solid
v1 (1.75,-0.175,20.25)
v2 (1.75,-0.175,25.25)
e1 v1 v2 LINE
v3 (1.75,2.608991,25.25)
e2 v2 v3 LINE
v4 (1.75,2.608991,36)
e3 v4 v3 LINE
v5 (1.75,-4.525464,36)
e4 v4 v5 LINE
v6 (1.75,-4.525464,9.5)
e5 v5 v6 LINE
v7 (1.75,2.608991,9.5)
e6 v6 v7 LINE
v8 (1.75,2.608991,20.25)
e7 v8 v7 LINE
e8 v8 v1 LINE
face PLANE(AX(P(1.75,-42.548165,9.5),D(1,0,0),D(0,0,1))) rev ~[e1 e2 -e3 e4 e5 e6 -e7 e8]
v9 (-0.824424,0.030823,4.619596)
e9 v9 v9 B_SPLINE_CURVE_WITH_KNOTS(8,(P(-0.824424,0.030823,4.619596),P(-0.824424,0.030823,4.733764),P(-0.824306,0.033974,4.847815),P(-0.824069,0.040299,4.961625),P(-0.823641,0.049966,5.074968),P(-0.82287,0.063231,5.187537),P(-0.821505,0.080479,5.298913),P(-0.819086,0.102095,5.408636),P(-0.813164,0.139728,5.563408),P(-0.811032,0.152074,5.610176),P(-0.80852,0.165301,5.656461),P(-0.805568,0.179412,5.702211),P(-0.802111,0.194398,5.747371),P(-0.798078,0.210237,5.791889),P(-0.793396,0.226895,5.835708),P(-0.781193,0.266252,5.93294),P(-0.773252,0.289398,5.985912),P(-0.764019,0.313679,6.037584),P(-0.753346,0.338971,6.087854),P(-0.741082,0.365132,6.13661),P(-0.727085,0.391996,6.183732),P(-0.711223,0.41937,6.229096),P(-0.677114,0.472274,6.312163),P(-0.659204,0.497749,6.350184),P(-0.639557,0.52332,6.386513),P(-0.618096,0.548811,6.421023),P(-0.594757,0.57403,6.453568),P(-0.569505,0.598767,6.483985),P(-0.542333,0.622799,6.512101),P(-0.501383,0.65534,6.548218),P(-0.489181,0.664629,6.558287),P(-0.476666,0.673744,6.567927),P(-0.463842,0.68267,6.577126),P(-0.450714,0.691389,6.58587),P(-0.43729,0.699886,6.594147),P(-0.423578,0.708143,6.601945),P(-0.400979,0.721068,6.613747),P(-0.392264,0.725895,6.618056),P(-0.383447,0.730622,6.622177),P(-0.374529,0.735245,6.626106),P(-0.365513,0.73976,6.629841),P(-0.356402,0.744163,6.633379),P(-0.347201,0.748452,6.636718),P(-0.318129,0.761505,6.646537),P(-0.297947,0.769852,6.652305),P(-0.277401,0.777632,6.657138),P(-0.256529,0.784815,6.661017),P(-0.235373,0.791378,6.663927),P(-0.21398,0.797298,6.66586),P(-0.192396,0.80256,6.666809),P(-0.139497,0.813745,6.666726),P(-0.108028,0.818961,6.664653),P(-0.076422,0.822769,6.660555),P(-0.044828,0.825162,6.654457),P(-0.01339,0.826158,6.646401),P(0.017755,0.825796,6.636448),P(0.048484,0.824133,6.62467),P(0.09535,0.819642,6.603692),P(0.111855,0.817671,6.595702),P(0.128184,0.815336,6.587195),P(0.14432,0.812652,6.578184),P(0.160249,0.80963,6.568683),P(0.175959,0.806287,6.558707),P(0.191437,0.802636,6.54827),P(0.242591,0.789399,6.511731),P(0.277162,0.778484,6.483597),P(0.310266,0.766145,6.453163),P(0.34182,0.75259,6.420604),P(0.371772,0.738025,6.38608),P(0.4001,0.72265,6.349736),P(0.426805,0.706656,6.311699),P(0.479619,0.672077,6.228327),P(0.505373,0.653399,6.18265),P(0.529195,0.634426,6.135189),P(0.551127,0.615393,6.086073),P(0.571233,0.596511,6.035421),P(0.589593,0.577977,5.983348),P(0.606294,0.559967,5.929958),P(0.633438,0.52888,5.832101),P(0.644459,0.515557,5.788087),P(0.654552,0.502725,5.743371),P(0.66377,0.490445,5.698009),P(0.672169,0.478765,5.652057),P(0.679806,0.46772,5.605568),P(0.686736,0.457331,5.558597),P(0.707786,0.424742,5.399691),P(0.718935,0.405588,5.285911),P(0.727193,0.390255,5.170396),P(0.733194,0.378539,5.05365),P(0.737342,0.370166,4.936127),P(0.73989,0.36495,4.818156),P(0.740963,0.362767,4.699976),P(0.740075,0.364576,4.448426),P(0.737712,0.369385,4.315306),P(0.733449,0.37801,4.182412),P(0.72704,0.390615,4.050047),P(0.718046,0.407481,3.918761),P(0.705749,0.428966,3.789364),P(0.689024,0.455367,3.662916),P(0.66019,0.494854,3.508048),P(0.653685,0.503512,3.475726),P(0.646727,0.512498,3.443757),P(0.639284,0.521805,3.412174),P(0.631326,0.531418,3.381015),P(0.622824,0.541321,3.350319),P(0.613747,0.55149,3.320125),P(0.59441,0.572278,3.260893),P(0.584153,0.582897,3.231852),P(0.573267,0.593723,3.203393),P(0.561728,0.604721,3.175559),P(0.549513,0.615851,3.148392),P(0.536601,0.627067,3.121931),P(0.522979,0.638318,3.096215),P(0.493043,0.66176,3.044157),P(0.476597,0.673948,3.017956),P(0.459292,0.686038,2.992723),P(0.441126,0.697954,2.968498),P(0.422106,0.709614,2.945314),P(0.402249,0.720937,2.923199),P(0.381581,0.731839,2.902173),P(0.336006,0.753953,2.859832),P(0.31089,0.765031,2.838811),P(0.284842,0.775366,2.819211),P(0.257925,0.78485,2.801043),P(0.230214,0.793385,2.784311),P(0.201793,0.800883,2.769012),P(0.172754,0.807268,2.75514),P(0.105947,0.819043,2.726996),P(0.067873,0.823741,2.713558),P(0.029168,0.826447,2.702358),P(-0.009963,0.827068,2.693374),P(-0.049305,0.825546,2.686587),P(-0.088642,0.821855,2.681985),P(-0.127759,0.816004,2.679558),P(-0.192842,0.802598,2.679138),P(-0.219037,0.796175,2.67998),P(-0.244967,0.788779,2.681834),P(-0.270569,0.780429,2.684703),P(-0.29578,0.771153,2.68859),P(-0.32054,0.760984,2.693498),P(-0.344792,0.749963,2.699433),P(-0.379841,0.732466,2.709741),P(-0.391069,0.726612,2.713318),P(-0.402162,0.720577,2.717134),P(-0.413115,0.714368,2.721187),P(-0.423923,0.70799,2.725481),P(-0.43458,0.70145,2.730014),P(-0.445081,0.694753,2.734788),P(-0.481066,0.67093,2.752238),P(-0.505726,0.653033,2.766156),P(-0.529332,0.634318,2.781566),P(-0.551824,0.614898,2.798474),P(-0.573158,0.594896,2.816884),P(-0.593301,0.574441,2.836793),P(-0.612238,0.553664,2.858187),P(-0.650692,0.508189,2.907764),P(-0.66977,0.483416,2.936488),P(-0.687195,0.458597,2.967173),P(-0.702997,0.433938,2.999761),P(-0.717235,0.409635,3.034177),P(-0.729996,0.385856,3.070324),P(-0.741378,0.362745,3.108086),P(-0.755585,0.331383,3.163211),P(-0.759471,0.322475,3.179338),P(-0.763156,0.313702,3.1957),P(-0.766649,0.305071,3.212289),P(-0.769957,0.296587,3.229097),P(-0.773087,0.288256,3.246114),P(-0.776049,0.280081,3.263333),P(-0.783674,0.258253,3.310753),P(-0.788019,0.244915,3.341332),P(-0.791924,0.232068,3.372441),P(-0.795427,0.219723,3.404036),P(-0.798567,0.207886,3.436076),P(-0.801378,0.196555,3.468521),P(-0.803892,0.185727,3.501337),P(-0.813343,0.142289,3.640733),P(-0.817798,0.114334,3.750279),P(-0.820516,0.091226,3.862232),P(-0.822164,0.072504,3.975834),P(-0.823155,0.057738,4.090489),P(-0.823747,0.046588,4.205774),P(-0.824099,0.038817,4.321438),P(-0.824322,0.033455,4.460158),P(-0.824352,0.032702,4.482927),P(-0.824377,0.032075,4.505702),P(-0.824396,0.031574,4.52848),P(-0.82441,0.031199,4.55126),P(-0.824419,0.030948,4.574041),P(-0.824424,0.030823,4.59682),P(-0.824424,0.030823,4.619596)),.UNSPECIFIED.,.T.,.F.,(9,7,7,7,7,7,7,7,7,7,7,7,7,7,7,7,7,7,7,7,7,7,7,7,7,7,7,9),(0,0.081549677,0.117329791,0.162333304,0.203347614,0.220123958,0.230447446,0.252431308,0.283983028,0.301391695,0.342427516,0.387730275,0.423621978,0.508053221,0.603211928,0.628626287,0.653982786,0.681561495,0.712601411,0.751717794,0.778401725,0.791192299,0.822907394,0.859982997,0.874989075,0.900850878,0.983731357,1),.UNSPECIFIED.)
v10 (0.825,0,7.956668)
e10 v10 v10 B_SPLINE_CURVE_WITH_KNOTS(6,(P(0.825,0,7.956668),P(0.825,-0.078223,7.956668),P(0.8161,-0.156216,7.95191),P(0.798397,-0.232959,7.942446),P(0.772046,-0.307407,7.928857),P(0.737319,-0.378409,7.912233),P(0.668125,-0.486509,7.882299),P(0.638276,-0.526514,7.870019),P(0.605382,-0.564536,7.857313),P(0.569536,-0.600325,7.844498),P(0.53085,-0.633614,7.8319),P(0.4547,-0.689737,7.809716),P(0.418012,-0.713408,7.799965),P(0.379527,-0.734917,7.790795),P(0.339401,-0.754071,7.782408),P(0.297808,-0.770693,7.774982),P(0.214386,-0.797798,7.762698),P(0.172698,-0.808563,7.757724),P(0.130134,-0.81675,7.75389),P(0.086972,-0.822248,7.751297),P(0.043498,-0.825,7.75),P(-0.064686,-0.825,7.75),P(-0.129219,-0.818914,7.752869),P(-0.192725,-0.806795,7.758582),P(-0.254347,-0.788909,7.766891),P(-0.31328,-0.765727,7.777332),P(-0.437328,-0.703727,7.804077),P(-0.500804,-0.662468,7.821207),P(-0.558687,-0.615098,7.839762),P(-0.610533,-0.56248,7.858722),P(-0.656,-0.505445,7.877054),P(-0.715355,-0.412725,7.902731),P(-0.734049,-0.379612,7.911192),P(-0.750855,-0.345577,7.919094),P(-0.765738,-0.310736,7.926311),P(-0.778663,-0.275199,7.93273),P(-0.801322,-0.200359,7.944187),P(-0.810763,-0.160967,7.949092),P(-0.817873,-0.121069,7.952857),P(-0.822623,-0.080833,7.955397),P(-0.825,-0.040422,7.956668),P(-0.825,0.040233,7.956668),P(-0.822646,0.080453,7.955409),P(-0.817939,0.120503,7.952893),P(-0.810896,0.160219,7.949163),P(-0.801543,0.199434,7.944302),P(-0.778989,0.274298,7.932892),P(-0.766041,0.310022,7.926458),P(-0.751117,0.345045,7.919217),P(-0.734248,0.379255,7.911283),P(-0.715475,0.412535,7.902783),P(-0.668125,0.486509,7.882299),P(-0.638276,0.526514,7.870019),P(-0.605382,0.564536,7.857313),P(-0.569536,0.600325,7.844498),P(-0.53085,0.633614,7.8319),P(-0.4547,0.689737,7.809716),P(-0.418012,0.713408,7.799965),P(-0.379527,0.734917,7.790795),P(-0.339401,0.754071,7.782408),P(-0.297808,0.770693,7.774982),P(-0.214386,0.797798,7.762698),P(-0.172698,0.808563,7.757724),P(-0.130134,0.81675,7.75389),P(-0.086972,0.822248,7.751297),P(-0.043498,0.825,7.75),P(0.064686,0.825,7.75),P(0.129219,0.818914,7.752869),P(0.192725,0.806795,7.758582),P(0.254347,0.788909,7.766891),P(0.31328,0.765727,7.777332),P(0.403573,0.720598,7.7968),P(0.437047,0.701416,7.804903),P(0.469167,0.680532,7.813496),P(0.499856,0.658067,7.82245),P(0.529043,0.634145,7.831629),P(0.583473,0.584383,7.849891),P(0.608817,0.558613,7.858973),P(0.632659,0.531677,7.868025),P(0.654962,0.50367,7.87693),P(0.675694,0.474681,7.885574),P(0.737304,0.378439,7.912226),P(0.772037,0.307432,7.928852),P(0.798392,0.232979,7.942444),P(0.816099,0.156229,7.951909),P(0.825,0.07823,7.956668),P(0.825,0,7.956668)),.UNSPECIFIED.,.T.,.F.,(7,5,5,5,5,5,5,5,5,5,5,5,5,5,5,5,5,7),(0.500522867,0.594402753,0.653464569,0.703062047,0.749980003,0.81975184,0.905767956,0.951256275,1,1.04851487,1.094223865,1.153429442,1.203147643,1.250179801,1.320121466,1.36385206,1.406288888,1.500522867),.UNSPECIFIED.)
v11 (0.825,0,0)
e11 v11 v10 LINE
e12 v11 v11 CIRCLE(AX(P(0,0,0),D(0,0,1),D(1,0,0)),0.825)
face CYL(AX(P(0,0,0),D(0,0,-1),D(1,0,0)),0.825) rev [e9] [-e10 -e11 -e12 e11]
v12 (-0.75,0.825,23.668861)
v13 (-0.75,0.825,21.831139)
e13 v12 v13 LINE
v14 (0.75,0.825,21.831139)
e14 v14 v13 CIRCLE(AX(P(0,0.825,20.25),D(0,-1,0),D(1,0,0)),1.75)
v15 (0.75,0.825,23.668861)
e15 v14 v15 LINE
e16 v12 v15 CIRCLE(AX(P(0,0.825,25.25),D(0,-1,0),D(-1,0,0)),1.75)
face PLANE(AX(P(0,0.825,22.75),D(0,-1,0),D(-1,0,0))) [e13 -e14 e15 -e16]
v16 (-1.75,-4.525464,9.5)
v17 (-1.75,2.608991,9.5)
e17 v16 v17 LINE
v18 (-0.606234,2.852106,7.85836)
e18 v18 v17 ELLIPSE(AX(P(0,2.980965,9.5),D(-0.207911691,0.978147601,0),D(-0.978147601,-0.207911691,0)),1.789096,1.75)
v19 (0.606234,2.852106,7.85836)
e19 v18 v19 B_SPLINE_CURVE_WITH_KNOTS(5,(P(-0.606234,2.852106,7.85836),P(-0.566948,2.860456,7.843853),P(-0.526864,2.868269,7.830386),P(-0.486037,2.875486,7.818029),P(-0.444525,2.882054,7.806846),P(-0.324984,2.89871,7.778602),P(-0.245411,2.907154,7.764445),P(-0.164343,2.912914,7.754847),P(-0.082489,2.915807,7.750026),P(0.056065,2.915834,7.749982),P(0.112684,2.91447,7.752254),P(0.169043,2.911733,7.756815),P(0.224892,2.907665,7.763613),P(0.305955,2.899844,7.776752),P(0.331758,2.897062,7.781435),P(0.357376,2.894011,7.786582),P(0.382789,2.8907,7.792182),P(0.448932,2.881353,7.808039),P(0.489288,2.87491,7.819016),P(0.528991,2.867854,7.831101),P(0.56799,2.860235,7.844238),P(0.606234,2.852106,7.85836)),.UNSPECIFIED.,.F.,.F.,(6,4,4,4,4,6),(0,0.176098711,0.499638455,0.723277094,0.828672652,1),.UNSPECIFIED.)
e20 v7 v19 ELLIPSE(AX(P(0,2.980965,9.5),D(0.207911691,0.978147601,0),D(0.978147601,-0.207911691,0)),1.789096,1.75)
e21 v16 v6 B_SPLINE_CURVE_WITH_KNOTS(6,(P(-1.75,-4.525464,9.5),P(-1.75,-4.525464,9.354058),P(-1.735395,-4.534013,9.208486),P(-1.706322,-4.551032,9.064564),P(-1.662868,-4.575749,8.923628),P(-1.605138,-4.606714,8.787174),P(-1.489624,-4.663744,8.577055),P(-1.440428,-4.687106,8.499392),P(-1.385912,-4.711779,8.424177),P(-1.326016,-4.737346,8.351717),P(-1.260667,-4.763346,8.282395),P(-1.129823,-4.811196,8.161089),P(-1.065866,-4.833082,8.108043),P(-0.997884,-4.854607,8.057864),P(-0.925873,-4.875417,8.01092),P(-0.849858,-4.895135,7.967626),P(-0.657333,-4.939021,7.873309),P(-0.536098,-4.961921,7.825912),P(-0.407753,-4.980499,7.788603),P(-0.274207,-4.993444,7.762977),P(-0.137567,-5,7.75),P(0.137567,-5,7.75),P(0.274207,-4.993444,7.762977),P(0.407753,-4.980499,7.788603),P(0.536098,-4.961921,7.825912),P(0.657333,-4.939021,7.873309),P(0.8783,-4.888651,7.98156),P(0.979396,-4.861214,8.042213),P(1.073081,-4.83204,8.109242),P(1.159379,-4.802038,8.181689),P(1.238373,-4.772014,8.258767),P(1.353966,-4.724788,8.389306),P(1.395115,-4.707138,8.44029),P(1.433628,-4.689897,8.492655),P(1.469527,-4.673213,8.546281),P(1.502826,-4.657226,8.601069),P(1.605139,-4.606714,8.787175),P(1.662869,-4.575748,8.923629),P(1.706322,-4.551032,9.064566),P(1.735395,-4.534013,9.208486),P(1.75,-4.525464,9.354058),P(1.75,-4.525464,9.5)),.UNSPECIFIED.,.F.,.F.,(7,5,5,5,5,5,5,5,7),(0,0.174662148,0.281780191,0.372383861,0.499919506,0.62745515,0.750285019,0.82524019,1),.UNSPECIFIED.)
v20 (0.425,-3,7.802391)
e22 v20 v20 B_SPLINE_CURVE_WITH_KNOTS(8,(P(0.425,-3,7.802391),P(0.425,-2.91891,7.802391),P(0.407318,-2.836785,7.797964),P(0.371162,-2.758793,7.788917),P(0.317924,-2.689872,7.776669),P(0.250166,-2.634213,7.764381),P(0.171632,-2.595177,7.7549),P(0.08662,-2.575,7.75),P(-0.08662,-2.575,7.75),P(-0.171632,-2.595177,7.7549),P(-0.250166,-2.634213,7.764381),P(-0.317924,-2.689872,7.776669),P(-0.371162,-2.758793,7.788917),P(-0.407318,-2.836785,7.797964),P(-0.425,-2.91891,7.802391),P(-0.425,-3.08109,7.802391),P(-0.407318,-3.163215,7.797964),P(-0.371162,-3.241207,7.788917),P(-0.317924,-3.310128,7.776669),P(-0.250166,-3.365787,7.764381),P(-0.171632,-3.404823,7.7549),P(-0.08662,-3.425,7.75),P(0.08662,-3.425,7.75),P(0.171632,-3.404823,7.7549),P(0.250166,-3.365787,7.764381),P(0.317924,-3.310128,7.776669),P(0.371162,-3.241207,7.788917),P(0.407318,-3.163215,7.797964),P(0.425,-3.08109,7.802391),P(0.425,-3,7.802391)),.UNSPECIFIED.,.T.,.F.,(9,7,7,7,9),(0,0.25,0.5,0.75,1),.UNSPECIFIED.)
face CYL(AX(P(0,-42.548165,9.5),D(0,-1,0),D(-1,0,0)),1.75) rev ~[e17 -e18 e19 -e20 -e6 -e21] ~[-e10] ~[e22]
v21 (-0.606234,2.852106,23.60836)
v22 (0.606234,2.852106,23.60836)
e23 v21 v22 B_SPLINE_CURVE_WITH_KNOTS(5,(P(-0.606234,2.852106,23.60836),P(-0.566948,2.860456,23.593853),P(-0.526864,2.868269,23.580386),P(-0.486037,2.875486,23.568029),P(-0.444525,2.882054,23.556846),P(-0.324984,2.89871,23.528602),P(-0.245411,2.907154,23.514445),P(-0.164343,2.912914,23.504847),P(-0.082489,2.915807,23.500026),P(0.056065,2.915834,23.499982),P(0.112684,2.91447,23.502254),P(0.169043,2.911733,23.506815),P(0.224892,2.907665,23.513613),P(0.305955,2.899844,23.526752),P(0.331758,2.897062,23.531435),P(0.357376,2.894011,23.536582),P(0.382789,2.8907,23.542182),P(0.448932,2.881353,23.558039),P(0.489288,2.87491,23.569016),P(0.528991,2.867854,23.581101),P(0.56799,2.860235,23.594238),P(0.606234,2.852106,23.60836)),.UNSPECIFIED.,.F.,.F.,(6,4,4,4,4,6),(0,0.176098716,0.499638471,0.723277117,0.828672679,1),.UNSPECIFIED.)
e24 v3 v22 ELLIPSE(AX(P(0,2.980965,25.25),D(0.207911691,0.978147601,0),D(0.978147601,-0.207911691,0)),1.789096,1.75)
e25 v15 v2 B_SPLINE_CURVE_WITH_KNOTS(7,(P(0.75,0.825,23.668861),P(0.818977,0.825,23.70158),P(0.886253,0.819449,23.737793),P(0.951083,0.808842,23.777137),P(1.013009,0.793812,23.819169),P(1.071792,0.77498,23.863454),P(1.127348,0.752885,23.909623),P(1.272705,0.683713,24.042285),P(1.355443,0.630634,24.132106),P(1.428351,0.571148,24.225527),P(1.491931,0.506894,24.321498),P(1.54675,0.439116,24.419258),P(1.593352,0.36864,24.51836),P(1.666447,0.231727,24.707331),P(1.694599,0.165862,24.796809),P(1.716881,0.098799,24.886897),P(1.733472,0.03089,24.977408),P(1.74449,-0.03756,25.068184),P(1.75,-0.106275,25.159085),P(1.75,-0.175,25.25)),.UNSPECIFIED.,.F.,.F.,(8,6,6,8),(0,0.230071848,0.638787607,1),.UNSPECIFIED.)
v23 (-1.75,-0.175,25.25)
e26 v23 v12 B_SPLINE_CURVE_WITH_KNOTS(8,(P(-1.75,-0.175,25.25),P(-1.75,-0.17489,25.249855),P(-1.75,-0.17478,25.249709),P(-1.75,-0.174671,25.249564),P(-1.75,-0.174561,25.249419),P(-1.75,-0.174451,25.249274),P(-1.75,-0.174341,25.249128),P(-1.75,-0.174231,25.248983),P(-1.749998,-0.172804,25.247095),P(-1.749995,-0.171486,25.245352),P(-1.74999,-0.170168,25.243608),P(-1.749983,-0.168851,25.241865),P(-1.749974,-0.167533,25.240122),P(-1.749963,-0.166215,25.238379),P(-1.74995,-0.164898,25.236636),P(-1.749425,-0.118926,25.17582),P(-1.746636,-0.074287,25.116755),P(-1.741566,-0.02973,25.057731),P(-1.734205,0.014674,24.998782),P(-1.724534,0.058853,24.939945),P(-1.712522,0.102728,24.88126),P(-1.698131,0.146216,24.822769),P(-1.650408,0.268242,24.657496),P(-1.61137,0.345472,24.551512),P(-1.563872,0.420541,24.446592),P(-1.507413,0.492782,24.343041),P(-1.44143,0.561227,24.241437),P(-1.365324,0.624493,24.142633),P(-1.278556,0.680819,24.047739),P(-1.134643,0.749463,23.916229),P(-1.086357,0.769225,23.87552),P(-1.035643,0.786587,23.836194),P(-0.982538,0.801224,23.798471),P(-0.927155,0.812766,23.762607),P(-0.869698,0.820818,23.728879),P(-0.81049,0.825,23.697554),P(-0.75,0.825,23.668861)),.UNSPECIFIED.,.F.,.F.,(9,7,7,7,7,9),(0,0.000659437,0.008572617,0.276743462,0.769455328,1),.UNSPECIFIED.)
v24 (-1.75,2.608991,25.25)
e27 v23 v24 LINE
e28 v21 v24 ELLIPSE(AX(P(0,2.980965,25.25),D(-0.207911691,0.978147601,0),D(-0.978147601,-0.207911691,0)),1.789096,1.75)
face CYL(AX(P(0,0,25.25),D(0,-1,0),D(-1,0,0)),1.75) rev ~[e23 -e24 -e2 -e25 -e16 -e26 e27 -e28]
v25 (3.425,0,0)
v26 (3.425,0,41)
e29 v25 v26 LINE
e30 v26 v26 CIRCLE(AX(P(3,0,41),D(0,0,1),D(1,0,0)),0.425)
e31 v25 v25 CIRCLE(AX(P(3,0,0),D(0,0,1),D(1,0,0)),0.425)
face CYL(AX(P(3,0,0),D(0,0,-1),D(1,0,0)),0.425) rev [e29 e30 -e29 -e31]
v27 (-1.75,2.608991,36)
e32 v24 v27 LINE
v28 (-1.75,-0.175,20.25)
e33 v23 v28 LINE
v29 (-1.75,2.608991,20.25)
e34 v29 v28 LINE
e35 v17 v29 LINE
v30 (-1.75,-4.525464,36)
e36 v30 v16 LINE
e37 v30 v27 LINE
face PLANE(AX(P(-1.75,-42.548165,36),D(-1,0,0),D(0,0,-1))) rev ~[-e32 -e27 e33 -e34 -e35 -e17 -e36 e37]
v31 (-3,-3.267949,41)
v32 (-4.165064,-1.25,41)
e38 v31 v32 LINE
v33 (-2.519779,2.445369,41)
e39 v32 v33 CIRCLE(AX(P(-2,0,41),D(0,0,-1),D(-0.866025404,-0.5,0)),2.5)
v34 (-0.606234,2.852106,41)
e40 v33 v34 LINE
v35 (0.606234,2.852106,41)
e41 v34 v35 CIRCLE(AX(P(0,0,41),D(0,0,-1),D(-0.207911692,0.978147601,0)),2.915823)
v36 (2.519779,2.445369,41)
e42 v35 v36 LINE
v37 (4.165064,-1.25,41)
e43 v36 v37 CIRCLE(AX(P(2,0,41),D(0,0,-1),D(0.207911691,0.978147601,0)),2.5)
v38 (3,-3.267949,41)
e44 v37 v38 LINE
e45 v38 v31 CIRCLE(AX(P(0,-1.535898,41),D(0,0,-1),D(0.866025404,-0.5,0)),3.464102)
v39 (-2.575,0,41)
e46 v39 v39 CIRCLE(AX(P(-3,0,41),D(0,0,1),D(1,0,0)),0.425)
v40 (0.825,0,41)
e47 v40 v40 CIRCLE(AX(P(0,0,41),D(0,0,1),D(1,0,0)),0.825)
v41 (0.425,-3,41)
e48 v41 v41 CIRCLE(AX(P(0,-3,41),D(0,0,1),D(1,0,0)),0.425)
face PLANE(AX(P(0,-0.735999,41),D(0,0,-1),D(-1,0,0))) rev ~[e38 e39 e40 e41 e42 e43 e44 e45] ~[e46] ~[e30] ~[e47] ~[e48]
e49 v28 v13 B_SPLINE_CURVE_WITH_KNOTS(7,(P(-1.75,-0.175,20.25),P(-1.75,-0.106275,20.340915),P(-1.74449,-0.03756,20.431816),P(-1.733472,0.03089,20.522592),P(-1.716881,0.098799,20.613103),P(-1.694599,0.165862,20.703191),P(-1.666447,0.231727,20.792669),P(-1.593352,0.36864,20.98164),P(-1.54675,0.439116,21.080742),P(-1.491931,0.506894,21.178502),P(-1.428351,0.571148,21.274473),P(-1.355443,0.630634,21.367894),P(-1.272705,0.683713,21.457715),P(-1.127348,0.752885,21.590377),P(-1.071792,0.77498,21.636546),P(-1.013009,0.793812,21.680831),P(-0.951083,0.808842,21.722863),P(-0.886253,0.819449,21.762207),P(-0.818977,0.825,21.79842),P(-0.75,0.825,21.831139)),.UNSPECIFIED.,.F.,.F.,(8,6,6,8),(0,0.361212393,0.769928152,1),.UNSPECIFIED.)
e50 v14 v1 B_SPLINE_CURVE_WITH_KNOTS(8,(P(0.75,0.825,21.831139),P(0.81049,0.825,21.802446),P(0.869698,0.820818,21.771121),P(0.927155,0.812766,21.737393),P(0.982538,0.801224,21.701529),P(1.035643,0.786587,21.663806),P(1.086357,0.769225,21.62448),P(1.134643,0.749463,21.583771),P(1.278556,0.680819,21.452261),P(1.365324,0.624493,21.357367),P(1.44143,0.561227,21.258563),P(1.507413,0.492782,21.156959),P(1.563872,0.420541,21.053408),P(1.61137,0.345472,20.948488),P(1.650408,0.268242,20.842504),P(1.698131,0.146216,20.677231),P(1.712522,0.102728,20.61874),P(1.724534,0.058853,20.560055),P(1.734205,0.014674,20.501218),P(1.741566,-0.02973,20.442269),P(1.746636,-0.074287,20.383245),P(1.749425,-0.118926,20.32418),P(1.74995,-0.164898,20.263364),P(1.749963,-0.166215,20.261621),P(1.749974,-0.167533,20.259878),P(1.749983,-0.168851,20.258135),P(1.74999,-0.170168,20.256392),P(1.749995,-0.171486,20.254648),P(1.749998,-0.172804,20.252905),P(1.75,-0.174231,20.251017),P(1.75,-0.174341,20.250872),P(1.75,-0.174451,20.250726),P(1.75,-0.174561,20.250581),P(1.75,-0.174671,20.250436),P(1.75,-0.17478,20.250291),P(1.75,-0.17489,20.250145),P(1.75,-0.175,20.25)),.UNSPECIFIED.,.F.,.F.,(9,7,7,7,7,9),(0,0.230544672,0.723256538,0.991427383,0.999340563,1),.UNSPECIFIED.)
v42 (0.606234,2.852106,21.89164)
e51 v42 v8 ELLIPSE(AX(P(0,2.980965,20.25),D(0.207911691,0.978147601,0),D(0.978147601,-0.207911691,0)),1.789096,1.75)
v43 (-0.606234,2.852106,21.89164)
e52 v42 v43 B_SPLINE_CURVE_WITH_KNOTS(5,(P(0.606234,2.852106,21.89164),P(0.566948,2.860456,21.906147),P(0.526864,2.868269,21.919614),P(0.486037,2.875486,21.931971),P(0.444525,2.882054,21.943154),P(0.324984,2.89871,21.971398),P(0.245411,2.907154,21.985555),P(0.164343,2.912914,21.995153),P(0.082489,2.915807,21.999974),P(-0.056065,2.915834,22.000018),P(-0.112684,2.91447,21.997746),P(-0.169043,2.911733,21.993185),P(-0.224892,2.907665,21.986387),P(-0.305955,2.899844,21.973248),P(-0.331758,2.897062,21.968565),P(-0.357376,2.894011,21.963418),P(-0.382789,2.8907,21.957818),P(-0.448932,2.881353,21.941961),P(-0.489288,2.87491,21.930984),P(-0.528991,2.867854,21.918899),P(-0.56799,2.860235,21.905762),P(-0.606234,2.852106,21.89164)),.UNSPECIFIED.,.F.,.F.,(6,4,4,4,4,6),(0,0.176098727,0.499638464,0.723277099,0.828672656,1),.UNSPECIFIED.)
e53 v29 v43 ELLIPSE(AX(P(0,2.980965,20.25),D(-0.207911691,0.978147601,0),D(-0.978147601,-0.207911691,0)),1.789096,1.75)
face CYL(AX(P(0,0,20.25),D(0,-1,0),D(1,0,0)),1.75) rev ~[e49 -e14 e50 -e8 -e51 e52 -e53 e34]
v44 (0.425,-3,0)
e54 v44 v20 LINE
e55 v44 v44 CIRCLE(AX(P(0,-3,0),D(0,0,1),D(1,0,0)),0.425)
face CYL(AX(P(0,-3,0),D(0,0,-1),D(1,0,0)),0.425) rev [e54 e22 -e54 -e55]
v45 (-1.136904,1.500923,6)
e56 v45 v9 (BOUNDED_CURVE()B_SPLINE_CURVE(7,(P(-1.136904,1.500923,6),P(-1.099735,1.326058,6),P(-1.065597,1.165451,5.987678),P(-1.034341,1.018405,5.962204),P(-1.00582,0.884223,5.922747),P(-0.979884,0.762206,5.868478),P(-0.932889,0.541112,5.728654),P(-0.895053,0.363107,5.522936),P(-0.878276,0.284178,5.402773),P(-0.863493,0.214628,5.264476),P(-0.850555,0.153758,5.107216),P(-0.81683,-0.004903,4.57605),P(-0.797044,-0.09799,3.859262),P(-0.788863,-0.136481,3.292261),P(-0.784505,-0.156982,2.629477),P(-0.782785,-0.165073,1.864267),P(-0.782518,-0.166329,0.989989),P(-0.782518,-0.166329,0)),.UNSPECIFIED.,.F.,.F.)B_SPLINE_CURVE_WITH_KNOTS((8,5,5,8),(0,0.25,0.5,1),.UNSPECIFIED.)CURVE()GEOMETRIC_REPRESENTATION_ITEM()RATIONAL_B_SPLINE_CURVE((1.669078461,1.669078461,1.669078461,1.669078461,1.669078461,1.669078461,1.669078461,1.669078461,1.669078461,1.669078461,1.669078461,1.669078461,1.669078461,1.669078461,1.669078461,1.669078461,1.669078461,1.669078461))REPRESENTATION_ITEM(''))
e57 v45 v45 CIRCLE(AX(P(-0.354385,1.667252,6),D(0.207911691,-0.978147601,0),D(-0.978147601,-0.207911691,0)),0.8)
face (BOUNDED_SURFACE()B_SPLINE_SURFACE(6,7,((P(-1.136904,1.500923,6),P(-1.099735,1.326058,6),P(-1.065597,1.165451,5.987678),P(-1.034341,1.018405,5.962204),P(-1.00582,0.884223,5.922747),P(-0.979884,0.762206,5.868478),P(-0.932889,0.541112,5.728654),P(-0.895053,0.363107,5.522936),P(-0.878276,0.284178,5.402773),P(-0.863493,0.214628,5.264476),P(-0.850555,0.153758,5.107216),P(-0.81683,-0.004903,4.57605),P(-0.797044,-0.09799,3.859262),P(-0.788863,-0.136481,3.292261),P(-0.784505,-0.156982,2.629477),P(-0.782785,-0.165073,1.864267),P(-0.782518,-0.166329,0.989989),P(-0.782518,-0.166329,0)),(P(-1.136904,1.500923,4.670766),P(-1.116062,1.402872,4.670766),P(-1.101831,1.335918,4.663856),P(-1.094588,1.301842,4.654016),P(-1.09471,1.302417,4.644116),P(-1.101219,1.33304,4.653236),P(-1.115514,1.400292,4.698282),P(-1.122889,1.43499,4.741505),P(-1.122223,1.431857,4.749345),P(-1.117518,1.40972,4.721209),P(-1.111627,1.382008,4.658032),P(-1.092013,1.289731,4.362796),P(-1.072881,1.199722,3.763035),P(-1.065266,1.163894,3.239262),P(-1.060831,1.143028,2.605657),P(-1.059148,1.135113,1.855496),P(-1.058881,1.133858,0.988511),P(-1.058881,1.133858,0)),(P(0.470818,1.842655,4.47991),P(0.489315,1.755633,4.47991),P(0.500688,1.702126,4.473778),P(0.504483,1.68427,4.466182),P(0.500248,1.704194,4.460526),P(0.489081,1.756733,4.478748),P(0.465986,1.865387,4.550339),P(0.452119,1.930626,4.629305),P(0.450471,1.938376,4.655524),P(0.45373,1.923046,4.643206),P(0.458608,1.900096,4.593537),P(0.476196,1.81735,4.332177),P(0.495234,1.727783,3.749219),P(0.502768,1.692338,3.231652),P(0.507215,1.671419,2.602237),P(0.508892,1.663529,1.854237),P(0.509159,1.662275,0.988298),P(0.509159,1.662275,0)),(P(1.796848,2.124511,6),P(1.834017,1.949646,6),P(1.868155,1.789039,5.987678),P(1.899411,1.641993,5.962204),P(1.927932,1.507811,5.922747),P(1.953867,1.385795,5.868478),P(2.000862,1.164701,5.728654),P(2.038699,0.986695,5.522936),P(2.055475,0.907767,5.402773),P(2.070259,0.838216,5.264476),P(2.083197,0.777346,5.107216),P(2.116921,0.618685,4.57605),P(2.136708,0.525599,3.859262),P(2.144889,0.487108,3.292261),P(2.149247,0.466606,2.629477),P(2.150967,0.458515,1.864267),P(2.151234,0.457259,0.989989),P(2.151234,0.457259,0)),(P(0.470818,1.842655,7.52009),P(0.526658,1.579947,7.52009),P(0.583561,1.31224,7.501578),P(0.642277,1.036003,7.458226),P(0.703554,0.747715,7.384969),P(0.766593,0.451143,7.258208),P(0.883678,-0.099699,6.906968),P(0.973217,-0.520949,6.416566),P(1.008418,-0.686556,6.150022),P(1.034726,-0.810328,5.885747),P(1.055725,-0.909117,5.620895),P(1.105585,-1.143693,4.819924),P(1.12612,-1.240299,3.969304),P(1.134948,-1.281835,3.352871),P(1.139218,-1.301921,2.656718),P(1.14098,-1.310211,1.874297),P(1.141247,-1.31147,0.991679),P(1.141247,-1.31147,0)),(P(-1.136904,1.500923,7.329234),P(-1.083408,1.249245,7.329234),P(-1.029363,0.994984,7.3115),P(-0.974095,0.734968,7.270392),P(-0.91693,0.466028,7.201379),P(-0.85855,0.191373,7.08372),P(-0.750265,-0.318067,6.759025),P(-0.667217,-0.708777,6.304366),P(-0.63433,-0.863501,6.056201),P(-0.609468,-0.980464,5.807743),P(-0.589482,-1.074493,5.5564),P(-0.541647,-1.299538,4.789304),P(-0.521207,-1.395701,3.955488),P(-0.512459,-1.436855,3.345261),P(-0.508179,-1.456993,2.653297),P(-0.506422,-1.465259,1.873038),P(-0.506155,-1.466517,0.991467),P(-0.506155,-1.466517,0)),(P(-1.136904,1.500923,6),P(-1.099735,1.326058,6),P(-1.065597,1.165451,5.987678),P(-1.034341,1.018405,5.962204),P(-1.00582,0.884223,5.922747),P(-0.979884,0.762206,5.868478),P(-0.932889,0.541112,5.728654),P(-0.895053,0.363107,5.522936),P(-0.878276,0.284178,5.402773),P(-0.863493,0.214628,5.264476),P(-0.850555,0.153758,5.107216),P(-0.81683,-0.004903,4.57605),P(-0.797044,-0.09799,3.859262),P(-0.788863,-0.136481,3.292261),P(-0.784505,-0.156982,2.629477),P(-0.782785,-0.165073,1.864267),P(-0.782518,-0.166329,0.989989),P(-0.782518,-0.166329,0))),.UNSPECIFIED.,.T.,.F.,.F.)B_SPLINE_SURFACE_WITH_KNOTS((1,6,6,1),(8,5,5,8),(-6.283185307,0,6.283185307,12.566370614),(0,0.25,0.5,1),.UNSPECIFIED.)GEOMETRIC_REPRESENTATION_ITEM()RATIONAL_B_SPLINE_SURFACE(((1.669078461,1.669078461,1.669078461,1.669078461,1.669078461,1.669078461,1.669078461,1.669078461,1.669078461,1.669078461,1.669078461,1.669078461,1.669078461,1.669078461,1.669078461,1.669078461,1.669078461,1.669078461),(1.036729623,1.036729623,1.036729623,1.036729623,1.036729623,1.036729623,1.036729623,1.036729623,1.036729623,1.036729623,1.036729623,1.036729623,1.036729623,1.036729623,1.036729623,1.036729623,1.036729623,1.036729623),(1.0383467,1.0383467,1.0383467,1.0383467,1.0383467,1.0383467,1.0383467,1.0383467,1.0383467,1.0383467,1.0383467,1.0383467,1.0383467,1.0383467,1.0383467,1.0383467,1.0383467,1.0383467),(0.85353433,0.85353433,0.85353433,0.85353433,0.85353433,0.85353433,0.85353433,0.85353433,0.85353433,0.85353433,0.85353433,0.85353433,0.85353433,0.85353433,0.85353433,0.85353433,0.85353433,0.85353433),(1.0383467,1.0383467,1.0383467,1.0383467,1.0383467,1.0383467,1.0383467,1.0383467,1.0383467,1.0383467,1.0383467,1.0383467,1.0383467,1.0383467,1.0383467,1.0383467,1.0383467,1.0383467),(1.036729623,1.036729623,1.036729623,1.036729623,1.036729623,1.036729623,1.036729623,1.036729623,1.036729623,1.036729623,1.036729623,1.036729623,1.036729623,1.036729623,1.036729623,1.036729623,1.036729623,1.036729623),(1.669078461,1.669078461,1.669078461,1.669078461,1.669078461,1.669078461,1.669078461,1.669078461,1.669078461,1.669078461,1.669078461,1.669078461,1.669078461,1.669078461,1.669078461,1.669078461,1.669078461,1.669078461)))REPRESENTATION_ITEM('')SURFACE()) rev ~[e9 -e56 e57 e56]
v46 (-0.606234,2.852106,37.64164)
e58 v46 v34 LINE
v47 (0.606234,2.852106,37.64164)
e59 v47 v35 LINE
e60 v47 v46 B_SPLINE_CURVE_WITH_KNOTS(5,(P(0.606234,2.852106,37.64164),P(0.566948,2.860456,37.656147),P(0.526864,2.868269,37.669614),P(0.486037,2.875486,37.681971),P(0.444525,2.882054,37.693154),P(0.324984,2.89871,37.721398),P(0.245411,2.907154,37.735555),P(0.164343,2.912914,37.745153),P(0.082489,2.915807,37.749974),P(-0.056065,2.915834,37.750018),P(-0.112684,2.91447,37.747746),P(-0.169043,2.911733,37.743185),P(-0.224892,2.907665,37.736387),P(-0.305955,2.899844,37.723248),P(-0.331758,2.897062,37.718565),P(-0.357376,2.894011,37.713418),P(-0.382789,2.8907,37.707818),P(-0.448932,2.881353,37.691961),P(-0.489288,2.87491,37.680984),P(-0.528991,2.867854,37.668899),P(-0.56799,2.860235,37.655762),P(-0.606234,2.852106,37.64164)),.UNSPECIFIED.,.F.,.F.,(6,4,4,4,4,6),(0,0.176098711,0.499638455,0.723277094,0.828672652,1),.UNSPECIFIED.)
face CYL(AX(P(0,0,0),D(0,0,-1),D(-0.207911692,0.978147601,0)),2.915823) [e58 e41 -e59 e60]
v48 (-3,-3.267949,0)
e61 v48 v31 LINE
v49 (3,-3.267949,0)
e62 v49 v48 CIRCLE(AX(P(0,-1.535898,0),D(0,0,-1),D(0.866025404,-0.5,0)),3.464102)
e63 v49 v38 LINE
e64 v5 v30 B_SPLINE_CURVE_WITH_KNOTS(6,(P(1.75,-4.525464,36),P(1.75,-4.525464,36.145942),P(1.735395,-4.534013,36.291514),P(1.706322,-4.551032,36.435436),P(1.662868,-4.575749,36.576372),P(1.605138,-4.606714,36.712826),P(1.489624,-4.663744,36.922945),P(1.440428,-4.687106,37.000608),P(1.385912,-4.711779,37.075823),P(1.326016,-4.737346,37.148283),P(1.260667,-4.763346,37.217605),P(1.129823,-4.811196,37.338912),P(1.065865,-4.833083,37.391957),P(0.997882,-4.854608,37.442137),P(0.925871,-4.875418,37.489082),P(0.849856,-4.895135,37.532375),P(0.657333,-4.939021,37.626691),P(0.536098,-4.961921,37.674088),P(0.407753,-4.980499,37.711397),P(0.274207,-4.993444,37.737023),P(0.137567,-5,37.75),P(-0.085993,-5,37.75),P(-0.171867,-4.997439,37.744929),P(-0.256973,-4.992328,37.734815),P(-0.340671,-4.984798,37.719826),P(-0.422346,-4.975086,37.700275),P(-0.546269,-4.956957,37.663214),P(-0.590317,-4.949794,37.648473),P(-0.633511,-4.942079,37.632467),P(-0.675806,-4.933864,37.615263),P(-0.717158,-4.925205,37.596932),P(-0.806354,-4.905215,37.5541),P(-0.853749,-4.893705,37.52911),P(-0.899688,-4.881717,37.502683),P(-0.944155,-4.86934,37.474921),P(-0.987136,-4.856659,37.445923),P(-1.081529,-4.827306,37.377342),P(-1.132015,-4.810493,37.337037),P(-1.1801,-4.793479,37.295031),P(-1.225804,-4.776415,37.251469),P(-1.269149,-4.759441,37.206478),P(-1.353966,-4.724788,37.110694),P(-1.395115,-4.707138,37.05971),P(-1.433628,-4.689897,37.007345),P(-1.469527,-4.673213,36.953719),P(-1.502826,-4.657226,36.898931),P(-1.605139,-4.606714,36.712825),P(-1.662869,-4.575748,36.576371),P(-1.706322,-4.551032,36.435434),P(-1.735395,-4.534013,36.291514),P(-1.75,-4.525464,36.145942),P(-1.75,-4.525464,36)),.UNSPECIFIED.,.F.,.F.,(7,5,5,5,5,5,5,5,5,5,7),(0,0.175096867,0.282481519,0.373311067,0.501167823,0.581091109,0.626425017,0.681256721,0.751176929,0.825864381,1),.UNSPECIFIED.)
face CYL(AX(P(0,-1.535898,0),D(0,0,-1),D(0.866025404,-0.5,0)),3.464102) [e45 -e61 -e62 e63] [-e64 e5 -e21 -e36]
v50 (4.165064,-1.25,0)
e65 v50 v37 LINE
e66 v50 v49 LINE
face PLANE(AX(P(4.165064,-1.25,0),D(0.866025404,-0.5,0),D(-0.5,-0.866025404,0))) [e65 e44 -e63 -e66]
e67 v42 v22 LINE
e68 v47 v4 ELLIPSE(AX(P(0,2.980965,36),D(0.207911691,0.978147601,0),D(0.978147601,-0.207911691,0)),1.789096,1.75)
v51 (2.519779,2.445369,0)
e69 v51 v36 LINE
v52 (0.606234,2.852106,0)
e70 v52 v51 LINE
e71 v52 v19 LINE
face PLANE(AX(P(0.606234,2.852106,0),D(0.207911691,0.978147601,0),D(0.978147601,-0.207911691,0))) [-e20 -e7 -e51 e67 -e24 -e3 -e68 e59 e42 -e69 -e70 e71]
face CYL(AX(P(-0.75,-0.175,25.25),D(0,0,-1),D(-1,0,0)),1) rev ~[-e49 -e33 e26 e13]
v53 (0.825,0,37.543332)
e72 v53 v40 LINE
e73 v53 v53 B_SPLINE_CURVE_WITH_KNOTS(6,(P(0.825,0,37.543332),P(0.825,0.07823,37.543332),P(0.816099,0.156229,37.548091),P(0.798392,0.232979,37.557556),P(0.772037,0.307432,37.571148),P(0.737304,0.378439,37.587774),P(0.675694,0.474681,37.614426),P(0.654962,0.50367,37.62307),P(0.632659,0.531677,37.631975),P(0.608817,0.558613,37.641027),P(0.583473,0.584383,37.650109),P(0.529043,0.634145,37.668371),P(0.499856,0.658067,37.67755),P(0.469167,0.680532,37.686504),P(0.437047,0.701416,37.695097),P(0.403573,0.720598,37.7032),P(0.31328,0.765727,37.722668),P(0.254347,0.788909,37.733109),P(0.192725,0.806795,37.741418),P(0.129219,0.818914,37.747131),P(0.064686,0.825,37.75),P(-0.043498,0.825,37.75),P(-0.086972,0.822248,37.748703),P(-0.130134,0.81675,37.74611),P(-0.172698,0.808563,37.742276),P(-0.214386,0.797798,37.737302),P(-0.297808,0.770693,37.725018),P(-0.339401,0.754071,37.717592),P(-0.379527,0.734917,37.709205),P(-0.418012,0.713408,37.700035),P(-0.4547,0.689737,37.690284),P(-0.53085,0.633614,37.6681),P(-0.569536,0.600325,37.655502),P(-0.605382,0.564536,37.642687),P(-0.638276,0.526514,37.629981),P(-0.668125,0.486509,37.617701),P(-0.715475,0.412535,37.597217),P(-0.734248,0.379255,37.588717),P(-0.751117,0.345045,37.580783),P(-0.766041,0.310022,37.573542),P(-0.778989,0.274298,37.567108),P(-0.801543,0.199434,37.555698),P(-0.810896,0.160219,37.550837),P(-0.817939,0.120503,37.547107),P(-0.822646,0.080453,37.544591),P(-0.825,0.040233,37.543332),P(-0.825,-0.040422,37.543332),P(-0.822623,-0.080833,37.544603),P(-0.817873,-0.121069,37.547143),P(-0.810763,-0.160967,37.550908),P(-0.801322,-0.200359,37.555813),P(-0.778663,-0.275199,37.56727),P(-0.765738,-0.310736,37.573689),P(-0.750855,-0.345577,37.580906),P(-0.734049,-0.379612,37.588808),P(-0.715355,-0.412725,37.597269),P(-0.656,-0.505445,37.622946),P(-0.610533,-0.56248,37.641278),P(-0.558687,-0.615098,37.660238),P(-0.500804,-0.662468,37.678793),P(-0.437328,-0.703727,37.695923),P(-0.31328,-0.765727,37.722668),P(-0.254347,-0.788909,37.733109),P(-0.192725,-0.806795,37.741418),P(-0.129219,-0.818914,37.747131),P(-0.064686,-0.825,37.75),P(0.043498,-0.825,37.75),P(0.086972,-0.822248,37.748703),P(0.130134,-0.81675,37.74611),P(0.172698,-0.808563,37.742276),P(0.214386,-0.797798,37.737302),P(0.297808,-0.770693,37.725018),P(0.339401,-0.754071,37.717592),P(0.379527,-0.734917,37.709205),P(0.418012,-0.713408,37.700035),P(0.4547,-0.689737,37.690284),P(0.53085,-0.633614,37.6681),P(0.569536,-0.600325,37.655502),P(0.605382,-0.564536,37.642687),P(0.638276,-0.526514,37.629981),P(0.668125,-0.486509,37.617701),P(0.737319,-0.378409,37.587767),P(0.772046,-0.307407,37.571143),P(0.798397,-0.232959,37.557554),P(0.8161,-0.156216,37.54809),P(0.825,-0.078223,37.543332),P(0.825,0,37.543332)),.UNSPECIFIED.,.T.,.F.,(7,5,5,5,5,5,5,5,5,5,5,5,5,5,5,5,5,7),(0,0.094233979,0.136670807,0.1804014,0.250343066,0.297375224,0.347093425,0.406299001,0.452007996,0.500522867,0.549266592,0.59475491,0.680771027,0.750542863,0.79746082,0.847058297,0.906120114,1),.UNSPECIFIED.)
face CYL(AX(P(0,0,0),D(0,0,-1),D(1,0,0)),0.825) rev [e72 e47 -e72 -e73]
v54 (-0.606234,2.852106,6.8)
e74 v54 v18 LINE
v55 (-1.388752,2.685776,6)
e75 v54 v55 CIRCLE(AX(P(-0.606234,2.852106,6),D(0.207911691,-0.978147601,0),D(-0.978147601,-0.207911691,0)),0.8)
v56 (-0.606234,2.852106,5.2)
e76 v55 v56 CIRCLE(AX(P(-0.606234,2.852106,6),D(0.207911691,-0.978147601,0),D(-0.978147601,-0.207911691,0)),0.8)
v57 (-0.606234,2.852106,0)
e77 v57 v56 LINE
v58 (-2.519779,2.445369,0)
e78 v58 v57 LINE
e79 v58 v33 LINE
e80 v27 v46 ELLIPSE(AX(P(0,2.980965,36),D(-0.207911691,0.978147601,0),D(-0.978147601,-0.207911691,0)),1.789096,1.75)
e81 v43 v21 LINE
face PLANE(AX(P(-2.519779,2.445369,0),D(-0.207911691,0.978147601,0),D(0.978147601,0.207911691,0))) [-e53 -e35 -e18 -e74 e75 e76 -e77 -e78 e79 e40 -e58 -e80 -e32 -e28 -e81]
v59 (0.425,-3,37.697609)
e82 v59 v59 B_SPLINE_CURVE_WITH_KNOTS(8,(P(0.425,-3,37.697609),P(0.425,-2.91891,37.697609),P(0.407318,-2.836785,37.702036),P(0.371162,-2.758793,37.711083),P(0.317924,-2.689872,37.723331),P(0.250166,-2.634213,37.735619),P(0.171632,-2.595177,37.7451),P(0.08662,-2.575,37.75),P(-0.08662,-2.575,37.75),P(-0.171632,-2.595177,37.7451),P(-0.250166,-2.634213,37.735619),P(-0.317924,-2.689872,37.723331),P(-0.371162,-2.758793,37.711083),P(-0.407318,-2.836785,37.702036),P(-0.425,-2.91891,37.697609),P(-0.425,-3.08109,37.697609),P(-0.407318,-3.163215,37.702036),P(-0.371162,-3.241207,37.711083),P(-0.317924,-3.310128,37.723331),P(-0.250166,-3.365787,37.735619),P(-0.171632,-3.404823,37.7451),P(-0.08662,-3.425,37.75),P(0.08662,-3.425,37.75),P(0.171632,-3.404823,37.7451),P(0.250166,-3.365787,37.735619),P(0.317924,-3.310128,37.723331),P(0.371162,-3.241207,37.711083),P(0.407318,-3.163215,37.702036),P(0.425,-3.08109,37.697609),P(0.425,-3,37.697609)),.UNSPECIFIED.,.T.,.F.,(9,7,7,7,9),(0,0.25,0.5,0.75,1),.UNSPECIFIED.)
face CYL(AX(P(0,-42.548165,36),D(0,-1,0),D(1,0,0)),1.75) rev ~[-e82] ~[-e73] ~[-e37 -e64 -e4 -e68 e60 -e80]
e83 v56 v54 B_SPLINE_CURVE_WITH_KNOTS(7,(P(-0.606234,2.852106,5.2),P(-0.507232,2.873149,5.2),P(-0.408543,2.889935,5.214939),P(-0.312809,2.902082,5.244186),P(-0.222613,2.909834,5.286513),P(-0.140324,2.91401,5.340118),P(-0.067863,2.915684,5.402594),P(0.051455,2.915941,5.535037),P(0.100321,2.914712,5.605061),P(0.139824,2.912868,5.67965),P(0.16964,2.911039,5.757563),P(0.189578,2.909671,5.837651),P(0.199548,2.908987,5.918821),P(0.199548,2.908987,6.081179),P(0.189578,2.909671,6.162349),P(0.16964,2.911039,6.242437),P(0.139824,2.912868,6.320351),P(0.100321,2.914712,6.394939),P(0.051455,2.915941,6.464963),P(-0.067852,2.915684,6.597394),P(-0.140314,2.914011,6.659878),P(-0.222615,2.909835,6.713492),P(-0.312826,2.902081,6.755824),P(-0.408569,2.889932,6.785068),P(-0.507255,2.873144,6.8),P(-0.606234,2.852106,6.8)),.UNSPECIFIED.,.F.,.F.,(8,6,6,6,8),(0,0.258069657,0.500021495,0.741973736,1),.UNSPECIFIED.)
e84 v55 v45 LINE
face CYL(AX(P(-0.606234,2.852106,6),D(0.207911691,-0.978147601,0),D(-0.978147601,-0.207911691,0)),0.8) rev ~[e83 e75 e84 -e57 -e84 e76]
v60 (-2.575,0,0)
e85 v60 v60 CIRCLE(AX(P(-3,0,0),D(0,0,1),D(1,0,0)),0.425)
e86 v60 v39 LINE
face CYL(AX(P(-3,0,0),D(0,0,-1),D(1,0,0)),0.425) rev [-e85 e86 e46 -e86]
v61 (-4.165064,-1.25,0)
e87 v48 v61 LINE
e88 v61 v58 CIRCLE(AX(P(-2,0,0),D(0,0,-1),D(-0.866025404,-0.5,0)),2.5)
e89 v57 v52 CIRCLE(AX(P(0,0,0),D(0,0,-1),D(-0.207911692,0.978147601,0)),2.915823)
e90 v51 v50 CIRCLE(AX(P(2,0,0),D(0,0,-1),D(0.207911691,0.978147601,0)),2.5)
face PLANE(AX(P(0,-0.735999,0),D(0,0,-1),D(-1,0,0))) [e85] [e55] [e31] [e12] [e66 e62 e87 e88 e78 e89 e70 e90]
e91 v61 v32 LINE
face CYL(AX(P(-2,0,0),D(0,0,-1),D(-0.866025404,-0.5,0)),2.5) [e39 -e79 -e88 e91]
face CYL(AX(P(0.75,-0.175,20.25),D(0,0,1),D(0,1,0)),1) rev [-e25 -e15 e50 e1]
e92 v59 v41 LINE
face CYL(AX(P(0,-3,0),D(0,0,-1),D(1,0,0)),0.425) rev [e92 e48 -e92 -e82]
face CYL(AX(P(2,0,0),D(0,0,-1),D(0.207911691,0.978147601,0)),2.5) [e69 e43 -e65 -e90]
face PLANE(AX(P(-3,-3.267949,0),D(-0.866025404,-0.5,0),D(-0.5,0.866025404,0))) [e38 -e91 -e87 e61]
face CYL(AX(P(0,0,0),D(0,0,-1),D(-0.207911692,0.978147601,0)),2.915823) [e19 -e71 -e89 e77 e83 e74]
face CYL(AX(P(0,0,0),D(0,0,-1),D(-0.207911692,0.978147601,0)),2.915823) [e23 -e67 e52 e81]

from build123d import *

# Parameters (mm, degrees)
BODYSKE_R       = 0.825
BODYSKE_R_2     = 0.425
BODY_DEPTH      = 41
HOLE_PROFILE_R  = 0.8
CUT1_DEPTH      = 0.825
CUT1_DEPTH_BACK = 42.54816492
CUT2_DEPTH      = 42.548164932
FILLET_2_R      = 1


with BuildPart() as part:
    # BodySke → Body (new body)
    with BuildSketch(Plane.XY):
        with BuildLine():
            Line((4.165063509, -1.25), (3, -3.267949192))
            ThreePointArc((3, -3.267949192), (0, -5), (-3, -3.267949192))
            Line((-3, -3.267949192), (-4.165063509, -1.25))
            ThreePointArc((-4.165063509, -1.25), (-4.283863644, 1.016841608), (-2.519779227, 2.445369002))
            Line((-2.519779227, 2.445369002), (-0.606233769, 2.852105645))
            ThreePointArc((-0.606233769, 2.852105645), (0, 2.915823382), (0.606233769, 2.852105645))
            Line((0.606233769, 2.852105645), (2.519779227, 2.445369002))
            ThreePointArc((2.519779227, 2.445369002), (4.283863644, 1.016841608), (4.165063509, -1.25))
        make_face()
        Circle(BODYSKE_R, mode=Mode.SUBTRACT)
        with Locations((-3, 0)):
            Circle(BODYSKE_R_2, mode=Mode.SUBTRACT)
        with Locations((3, 0)):
            Circle(BODYSKE_R_2, mode=Mode.SUBTRACT)
        with Locations((0, -3)):
            Circle(BODYSKE_R_2, mode=Mode.SUBTRACT)
    extrude(amount=BODY_DEPTH)

    # Hole: sweep along a path in HoleSke
    with BuildLine() as hole_path:  # in the path sketch's own coordinates; laid on its plane below (add() does not lay a ready-made edge on the line's plane)
        Line((6, 2.915823382), (6, 1.704499781))
        add(Edge.make_bspline(
            [(6, 1.704499781), (6, 0.035966381), (4.619948081, 0), (0, 0)],
            knots=[0, 0, 0, 0, 1, 1, 1, 1], degree=3))
    # Hole profile (on start of the path) → Hole (sweep, cut)
    with BuildSketch(Plane(origin=(-0.606233769, 2.852105645, 6), x_dir=(-0.9781476007338055, -0.2079116908177599, 0), z_dir=(0.2079116908177599, -0.9781476007338055, 0))):
        Circle(HOLE_PROFILE_R)
    sweep(path=Plane(origin=(0, 0, 0), x_dir=(0, 0, 1), z_dir=(-0.9781476007338055, -0.2079116908177599, 0)) * hole_path.line, mode=Mode.SUBTRACT)

    # Cut1Ske → Cut1 (cut, two sides: drawn at the far end of the back side and taken through both)
    with BuildSketch(Plane(origin=(0, 0, 0), x_dir=(1, 0, 0), z_dir=(0, 1, 0)).offset(-CUT1_DEPTH_BACK)):
        with BuildLine():
            Line((1.75, -9.5), (1.75, -36))
            ThreePointArc((1.75, -36), (0, -37.75), (-1.75, -36))
            Line((-1.75, -36), (-1.75, -9.5))
            ThreePointArc((-1.75, -9.5), (0, -7.75), (1.75, -9.5))
        make_face()
    extrude(amount=CUT1_DEPTH + CUT1_DEPTH_BACK, mode=Mode.SUBTRACT)

    # Cut2Ske → Cut2 (cut, through all)
    with BuildSketch(Plane(origin=(0, 0, 0), x_dir=(1, 0, 0), z_dir=(0, 1, 0))):
        with BuildLine():
            Line((-1.75, -20.25), (-1.75, -9.5))
            ThreePointArc((-1.75, -9.5), (0, -7.75), (1.75, -9.5))
            Line((1.75, -9.5), (1.75, -20.25))
            ThreePointArc((1.75, -20.25), (0, -22), (-1.75, -20.25))
        make_face()
        with BuildLine():
            Line((1.75, -25.25), (1.75, -36))
            ThreePointArc((1.75, -36), (0, -37.75), (-1.75, -36))
            Line((-1.75, -36), (-1.75, -25.25))
            ThreePointArc((-1.75, -25.25), (0, -23.5), (1.75, -25.25))
        make_face()
    extrude(amount=CUT2_DEPTH, mode=Mode.SUBTRACT)

    # Fillet 2
    fillet_2_edges = [part.edges().sort_by_distance(p)[0] for p in [
        (-1.75, 0.825, 22.75),
        (1.75, 0.825, 22.75),
    ]]
    fillet(fillet_2_edges, radius=FILLET_2_R)


solid = part.part
